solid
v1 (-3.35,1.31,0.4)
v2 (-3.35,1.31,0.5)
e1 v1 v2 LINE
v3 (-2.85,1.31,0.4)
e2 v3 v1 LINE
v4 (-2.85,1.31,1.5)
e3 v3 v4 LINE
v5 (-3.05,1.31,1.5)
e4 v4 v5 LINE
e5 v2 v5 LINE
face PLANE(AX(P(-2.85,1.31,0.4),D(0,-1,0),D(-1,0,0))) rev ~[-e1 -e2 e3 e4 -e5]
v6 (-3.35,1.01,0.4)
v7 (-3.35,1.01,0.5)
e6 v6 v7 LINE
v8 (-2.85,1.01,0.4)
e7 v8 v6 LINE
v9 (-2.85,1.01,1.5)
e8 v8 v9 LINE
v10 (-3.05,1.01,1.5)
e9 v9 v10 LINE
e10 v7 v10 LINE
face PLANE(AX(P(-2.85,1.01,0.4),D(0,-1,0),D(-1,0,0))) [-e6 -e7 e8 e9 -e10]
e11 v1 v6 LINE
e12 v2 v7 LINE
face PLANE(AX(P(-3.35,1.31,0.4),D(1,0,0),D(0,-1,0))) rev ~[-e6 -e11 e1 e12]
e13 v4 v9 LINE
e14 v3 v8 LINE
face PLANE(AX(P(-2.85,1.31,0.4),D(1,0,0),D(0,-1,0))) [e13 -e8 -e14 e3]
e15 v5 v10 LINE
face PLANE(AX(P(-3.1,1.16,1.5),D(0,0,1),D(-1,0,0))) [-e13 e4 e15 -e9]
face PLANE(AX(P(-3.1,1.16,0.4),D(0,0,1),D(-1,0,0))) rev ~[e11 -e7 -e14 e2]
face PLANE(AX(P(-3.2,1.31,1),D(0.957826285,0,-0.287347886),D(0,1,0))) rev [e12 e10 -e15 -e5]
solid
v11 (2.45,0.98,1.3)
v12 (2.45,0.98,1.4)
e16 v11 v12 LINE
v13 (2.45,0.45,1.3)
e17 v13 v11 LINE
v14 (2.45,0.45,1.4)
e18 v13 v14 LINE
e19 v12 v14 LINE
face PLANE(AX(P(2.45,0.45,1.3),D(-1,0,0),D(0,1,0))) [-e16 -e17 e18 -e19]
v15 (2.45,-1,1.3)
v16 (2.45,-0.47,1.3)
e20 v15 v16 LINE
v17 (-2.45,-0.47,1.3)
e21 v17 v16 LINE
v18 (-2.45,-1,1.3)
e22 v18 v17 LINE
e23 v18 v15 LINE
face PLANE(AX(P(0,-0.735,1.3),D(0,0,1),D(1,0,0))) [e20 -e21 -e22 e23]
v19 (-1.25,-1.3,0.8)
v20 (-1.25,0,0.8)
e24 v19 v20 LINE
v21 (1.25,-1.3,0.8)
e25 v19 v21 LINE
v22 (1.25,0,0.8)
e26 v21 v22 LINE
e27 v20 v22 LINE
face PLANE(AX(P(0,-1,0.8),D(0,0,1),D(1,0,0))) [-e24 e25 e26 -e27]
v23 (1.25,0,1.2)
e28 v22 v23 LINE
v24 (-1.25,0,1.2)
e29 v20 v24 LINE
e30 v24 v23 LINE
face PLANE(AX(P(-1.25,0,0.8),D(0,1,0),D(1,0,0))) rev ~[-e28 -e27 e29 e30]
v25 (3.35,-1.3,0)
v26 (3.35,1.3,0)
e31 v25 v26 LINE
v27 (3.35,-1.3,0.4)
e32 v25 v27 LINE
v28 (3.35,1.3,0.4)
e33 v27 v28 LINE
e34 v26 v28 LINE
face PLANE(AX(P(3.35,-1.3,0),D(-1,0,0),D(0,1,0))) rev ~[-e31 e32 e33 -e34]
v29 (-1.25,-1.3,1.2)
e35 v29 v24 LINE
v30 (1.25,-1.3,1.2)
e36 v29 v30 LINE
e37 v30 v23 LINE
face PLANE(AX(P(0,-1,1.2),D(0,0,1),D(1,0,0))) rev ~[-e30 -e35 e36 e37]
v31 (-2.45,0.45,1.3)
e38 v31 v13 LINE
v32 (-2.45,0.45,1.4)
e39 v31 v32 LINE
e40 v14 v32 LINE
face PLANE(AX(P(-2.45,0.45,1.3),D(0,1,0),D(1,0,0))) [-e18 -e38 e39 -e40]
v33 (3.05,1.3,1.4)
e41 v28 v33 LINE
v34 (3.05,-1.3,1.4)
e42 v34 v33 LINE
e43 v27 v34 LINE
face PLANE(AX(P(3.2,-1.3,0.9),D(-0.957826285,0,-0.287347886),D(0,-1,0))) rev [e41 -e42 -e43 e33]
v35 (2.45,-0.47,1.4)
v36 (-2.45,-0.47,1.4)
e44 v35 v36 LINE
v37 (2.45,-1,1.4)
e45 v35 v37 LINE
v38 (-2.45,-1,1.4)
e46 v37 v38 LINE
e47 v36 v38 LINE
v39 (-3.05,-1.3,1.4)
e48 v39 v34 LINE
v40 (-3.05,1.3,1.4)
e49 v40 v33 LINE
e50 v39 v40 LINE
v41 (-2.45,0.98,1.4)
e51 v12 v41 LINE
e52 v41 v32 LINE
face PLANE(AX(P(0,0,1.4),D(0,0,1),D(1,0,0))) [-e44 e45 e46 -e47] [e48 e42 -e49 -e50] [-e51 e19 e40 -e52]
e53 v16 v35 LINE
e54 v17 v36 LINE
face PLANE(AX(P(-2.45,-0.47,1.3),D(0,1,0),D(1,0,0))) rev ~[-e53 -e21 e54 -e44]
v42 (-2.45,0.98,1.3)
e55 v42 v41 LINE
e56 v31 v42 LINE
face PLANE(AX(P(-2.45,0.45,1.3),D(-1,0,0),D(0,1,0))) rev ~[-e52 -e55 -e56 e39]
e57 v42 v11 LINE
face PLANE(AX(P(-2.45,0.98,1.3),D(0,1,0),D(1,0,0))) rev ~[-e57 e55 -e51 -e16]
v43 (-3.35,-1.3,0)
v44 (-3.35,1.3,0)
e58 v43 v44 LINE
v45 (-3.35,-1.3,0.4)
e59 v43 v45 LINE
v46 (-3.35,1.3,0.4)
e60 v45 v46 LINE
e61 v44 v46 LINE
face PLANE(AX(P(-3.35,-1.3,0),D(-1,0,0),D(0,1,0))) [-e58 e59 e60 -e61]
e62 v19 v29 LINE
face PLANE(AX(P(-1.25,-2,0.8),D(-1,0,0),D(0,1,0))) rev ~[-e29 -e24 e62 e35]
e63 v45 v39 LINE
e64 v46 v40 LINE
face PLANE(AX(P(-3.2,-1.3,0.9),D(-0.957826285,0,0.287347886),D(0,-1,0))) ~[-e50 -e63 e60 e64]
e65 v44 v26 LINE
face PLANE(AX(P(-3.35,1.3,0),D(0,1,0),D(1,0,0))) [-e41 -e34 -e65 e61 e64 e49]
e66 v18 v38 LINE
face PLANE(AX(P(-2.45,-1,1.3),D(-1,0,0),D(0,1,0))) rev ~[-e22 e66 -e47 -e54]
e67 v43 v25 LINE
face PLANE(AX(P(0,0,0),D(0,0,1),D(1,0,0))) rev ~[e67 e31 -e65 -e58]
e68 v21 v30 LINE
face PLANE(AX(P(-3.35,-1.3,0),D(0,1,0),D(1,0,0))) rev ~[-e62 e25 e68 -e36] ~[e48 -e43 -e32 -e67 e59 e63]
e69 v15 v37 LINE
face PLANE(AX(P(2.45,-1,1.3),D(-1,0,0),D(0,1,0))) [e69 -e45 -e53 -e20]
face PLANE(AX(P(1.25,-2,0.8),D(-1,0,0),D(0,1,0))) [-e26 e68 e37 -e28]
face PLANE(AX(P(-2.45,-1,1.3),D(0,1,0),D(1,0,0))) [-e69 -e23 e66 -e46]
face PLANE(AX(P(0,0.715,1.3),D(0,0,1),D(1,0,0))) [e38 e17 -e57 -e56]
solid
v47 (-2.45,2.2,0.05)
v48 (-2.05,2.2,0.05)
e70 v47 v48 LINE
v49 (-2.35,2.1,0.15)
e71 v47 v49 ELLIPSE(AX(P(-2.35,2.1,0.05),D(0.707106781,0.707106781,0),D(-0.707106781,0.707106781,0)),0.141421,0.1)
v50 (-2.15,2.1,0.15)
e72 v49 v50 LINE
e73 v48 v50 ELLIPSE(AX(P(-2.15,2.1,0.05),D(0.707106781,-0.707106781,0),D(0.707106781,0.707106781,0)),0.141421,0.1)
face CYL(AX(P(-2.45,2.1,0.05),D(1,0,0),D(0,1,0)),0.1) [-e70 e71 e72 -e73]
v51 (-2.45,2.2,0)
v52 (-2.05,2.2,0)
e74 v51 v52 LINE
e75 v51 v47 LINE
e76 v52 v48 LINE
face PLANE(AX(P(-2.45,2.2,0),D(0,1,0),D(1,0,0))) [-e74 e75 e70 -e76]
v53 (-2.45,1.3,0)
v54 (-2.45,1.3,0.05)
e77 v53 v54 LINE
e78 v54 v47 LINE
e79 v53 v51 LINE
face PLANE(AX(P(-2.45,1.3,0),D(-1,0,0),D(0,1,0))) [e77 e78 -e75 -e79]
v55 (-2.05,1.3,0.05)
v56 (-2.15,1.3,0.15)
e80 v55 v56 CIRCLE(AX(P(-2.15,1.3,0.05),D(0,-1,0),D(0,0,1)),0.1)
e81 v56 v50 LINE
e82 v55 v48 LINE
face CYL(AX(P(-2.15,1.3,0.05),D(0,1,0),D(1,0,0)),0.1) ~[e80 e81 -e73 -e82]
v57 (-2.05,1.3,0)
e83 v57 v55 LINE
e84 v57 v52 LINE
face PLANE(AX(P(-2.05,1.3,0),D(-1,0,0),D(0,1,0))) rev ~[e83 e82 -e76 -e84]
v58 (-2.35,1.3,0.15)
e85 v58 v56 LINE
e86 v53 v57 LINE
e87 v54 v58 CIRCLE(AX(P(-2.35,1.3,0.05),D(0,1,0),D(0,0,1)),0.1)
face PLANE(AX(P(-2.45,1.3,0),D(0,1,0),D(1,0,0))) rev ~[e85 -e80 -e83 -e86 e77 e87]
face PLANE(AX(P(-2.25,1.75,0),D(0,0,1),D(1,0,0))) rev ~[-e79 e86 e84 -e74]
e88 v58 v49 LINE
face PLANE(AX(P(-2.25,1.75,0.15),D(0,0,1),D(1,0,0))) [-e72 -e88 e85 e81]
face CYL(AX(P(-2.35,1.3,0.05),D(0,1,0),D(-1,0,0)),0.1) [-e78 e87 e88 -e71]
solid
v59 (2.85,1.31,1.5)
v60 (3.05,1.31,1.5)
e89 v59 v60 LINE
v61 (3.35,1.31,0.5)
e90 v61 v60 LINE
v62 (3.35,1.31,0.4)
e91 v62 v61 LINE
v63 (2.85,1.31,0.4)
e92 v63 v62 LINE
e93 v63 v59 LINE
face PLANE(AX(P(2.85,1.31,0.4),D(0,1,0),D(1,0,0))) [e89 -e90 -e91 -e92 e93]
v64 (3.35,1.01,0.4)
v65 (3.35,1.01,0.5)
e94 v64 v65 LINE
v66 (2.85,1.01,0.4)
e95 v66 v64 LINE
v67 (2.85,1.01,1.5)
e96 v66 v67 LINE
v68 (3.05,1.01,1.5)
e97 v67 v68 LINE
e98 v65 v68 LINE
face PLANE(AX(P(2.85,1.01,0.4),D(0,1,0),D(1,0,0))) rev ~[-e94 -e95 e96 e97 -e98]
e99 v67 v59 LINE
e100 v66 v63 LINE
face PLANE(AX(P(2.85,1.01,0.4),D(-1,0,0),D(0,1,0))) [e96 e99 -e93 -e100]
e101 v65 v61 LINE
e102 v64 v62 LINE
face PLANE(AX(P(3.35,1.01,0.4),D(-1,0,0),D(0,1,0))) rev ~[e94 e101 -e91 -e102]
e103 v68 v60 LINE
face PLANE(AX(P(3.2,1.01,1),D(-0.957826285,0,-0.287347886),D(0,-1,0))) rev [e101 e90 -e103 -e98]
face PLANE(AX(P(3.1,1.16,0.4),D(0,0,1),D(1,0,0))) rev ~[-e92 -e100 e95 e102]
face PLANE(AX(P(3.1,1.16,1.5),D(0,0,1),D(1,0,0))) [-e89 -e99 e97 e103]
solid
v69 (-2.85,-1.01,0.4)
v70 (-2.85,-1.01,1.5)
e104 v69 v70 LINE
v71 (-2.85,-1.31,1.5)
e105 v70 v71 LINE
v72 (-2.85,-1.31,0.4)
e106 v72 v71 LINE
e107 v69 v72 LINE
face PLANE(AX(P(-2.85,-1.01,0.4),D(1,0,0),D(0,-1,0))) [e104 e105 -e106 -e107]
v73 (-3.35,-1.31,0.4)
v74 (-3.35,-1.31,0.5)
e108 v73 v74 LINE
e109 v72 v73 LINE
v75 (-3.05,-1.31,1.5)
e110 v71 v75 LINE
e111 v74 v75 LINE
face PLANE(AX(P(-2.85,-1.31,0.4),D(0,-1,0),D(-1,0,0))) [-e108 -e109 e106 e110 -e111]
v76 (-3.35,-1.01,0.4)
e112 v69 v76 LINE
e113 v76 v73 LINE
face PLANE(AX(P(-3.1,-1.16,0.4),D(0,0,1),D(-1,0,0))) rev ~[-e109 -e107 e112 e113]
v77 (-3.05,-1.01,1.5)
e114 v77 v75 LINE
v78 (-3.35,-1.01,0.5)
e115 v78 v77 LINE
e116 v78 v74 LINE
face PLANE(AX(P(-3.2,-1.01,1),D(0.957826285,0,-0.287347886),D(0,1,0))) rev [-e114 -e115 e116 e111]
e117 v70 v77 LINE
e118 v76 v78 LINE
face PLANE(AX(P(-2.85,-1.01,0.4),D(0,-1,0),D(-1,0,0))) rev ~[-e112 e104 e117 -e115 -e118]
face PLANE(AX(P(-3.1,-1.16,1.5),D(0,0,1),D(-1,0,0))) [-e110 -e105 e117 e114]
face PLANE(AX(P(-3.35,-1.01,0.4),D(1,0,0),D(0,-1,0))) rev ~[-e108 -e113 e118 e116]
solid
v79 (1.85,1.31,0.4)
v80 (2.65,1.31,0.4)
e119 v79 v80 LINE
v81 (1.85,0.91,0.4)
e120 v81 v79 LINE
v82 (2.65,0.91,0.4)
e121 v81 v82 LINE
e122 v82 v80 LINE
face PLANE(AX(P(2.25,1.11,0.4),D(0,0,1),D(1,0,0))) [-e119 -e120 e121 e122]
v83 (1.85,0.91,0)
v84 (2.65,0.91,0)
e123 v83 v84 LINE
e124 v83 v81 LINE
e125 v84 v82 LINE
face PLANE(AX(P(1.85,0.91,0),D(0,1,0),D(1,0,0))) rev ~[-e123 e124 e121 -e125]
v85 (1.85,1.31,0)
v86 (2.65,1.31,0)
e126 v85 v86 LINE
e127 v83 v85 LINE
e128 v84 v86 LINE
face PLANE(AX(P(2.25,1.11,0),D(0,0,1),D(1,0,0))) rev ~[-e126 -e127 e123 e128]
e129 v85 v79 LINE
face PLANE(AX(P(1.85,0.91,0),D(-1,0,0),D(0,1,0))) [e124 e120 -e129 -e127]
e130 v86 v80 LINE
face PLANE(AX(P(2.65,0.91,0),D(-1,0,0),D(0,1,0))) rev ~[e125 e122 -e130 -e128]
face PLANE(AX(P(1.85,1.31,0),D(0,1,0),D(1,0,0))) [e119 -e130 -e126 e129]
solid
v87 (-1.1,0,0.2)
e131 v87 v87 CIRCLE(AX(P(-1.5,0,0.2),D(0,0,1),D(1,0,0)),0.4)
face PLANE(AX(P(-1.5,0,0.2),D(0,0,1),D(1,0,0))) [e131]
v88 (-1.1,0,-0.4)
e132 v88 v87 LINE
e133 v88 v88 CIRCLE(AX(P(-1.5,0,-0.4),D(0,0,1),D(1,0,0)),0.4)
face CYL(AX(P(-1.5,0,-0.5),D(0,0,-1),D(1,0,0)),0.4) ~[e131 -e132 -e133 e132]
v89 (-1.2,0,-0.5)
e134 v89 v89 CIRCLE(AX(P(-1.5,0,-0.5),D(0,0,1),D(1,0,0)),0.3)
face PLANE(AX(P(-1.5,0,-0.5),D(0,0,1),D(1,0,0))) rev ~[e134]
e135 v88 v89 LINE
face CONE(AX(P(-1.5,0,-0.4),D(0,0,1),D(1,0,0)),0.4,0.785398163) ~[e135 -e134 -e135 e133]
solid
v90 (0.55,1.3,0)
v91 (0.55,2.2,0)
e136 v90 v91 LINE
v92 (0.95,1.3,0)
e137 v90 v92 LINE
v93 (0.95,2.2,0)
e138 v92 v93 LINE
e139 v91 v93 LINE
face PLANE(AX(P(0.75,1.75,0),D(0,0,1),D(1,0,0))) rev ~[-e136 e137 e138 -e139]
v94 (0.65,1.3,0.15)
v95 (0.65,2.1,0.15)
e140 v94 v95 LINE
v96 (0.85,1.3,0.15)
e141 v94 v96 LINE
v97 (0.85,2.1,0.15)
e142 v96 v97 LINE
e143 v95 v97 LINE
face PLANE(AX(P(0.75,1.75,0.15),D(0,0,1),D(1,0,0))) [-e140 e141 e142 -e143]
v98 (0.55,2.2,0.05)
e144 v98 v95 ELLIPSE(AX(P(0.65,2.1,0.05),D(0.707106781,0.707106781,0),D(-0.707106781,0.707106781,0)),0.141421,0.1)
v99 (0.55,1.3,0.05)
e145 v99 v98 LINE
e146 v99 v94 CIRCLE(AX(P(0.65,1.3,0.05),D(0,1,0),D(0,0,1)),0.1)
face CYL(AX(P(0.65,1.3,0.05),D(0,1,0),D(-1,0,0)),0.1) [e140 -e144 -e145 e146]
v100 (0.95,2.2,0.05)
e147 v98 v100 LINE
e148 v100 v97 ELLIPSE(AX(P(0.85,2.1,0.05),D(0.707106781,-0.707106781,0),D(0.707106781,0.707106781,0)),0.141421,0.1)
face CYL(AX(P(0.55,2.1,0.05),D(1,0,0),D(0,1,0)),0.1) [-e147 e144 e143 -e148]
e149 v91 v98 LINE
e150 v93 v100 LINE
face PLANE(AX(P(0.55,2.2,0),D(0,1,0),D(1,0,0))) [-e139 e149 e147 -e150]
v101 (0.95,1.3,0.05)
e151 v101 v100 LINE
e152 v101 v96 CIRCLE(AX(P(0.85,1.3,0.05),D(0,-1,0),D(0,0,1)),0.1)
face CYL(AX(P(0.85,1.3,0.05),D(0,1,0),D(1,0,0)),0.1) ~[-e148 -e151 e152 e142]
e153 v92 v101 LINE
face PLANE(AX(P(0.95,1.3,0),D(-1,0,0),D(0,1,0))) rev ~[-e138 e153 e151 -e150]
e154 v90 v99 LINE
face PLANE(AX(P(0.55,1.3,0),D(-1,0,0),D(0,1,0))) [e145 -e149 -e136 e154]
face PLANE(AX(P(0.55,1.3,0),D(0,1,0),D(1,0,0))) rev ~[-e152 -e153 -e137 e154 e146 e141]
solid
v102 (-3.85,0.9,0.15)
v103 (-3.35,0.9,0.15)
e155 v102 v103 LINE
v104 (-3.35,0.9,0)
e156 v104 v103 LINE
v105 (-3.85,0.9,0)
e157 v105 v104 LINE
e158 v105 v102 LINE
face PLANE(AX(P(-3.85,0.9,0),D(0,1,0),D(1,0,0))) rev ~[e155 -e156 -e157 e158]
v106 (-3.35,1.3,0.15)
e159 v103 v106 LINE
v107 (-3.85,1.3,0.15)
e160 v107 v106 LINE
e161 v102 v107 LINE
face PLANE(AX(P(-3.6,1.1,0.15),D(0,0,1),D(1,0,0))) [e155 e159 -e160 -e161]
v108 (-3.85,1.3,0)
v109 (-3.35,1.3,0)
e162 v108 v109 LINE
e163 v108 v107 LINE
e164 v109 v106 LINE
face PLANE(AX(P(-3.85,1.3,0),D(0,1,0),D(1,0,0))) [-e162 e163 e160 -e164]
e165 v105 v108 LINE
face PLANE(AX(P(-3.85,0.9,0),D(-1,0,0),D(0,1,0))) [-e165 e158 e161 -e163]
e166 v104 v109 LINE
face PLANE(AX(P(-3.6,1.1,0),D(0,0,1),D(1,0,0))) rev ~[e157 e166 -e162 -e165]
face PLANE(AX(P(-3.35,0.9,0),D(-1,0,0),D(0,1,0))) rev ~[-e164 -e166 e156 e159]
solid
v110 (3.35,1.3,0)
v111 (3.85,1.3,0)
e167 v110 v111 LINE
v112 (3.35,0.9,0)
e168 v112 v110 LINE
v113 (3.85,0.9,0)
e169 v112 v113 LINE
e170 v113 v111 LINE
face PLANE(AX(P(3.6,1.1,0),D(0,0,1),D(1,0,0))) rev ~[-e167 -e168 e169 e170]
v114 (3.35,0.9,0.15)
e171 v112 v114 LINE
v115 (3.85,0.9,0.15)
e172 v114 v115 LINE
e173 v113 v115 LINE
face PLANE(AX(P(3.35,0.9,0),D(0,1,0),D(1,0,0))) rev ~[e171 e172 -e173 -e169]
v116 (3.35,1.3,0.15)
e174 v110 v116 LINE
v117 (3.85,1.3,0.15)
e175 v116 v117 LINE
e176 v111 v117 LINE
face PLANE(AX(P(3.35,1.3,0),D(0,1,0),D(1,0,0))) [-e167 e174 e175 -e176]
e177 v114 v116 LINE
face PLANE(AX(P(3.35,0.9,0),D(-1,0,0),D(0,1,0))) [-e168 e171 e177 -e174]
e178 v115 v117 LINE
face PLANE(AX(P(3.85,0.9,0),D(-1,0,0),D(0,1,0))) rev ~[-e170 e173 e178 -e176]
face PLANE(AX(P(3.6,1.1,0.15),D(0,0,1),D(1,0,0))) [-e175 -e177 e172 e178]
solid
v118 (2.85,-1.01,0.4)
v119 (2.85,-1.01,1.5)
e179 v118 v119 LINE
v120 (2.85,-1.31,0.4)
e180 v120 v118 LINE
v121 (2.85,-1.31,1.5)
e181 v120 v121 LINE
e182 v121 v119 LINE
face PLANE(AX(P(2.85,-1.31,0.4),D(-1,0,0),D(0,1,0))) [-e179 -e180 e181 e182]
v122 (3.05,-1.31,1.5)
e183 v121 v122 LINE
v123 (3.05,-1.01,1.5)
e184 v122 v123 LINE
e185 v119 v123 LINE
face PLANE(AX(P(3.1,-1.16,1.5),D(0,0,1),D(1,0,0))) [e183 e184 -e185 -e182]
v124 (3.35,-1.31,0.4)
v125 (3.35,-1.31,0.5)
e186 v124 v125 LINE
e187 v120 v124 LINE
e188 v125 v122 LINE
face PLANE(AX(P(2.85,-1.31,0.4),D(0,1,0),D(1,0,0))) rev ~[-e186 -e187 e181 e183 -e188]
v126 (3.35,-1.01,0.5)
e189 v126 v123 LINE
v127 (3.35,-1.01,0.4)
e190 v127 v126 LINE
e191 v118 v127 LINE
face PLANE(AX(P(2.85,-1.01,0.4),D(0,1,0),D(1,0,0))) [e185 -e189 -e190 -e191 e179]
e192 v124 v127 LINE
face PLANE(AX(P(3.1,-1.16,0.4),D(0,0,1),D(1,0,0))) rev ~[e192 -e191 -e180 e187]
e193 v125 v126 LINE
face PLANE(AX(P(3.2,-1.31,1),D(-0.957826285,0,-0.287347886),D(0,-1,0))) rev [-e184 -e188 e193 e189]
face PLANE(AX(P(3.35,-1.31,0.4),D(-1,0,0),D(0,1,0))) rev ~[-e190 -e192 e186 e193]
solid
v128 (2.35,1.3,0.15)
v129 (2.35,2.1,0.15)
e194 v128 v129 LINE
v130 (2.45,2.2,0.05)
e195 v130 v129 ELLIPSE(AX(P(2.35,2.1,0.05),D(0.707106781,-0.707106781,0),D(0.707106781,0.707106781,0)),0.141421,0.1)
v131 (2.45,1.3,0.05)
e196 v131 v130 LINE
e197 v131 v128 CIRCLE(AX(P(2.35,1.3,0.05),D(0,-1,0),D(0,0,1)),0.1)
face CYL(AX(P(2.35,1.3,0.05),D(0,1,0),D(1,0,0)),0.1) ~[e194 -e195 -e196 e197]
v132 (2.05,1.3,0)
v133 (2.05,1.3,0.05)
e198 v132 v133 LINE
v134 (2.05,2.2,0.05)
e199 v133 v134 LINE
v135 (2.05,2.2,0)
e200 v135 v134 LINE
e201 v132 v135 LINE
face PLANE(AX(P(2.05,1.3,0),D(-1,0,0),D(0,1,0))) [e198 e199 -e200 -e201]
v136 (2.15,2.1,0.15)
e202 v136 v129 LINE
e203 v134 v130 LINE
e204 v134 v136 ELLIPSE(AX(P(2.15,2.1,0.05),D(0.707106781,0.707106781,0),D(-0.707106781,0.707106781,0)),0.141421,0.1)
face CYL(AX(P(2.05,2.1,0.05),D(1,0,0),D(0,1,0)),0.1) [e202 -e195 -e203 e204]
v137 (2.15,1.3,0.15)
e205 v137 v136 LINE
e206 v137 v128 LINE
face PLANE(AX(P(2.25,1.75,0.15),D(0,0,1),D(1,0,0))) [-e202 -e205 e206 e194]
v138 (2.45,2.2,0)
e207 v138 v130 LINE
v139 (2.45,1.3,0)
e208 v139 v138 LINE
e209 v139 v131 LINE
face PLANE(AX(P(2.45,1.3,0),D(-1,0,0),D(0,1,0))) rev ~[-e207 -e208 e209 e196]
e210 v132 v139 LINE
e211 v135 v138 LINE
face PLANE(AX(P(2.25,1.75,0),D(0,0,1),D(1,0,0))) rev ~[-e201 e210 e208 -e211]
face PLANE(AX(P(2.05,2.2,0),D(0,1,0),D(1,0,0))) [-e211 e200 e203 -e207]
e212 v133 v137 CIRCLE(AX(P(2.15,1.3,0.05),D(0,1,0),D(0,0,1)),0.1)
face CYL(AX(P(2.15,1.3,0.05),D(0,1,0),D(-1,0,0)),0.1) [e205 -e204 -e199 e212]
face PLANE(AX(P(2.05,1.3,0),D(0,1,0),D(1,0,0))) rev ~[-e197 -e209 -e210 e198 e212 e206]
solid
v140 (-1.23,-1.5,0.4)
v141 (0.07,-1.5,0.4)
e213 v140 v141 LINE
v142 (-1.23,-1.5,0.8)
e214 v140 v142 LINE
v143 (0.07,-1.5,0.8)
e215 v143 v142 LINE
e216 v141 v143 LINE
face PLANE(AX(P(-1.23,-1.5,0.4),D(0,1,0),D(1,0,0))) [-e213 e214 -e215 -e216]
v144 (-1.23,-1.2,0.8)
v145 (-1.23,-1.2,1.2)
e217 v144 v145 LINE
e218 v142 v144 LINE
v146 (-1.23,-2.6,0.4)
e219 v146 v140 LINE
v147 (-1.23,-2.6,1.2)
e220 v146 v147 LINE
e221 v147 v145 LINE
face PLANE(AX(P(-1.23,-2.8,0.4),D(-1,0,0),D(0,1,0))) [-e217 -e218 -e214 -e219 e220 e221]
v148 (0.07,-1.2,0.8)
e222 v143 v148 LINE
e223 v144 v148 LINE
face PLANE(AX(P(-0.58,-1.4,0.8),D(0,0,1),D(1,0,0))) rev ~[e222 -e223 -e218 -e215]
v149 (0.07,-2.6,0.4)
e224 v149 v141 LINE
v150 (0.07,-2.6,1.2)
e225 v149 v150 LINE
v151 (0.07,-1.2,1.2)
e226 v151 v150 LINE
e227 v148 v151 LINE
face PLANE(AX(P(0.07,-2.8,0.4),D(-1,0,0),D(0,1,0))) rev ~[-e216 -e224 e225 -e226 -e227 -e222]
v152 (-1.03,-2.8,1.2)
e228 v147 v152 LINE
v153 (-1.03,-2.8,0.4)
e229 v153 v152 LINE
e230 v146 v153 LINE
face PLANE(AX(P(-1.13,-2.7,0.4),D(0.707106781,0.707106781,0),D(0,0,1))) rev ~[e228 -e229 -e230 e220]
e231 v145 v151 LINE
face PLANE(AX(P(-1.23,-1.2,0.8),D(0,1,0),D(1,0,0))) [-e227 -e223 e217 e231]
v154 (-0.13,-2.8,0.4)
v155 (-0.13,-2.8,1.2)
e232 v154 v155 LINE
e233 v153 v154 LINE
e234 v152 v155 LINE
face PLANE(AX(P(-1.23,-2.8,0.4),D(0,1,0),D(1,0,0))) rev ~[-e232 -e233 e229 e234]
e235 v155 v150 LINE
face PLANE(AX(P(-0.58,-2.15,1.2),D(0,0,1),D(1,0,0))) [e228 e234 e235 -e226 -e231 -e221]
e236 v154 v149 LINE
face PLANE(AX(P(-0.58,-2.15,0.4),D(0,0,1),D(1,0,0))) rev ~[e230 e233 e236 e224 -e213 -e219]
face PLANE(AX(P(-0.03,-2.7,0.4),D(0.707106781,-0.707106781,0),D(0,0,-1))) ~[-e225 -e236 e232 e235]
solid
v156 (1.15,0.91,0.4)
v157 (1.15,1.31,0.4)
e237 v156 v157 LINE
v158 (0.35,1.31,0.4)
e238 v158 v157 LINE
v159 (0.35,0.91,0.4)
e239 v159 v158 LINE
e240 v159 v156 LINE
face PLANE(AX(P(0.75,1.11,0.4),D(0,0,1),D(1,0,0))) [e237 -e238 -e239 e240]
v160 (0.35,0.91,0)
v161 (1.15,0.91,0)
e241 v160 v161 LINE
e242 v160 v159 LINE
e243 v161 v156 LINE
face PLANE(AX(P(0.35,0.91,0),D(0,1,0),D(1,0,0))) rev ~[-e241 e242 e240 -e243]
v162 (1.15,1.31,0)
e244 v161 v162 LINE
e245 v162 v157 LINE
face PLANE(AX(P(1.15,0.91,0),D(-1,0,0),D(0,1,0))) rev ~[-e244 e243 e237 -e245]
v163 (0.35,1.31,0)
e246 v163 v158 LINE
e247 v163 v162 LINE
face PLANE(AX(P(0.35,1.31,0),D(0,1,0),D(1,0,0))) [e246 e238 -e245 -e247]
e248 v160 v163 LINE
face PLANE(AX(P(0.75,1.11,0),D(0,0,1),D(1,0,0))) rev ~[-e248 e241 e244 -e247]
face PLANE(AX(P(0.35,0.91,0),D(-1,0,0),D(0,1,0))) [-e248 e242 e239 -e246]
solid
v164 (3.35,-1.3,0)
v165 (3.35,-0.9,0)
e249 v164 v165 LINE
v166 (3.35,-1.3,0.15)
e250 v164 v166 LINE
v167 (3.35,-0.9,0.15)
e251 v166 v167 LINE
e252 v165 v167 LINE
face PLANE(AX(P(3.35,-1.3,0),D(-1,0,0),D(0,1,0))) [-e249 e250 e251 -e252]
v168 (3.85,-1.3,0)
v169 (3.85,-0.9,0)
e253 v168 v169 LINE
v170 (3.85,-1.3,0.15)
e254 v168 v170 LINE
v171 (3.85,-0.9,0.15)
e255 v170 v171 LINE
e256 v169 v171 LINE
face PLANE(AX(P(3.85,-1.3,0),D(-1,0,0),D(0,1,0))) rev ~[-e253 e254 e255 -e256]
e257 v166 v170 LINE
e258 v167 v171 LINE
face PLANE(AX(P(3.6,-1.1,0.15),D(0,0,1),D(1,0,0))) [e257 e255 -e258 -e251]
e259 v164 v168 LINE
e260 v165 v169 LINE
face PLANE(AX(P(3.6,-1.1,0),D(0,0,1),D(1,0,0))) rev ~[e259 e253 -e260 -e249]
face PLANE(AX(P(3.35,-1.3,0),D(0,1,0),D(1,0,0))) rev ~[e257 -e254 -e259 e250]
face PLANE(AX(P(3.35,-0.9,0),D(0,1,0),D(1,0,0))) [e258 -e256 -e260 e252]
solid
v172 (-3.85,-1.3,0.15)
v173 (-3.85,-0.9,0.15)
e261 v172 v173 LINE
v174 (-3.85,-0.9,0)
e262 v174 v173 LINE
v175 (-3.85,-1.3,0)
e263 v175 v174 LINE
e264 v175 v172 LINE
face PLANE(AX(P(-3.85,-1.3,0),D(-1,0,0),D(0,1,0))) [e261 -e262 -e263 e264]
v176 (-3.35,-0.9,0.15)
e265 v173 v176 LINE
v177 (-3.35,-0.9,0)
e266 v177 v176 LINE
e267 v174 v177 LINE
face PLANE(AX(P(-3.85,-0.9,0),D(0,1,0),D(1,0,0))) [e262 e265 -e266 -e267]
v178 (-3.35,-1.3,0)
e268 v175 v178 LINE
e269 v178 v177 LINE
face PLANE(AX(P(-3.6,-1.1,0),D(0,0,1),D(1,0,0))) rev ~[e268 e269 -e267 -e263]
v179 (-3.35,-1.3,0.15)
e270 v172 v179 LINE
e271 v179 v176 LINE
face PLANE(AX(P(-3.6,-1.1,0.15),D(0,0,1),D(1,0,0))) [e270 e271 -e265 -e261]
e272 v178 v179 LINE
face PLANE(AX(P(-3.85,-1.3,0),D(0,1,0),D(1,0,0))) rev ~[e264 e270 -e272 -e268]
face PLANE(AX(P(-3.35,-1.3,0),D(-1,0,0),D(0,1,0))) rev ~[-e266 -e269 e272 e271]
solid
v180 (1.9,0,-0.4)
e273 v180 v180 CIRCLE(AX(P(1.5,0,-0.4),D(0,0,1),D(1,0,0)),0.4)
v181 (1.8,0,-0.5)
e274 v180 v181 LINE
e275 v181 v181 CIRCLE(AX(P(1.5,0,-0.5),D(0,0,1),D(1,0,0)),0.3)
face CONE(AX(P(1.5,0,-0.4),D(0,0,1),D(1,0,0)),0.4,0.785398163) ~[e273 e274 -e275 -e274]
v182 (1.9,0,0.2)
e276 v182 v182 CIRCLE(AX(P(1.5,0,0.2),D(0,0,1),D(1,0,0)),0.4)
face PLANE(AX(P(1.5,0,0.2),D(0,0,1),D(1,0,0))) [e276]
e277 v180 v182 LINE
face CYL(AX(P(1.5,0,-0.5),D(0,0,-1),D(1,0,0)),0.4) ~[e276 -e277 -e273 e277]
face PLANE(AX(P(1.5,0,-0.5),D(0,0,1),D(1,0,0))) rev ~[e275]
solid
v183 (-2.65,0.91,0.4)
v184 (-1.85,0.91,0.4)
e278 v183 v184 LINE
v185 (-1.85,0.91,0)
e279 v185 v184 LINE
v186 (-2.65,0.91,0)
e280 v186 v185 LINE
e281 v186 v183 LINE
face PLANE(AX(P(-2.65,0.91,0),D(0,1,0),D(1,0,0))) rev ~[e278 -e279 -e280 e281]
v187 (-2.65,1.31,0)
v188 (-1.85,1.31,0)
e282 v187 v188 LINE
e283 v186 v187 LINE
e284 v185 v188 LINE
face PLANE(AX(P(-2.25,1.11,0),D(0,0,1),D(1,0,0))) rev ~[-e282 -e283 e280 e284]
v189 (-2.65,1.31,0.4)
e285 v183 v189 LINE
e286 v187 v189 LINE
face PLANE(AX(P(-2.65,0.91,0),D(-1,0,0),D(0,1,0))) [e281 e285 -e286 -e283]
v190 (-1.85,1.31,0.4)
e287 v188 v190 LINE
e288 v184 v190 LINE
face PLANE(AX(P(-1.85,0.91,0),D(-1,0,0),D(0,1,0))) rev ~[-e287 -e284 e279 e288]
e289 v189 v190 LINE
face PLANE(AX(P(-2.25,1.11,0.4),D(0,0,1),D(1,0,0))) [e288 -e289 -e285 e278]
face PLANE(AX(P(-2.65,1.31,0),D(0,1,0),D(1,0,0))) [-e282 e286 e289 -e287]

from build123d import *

# Parameters (mm, degrees)
BOX002_W                   = 1.3
BOX002_H                   = 1.3
BOX002_DEPTH               = 0.8
CHAMFER_SIZE               = 0.2
CHAMFER001_SIZE            = 0.2
BOX001_W                   = 1.3
BOX001_H                   = 0.4
BOX001_DEPTH               = 0.4
CYLINDER_R                 = 0.4
CYLINDER_DEPTH             = 0.7
CHAMFER003_SIZE            = 0.1
CYLINDER001_R              = 0.4
CYLINDER001_DEPTH          = 0.7
CHAMFER004_SIZE            = 0.1
BOX005_W                   = 0.5
BOX005_H                   = 0.3
BOX005_DEPTH               = 1.1
CHAMFER005_SIZE2           = 0.3
CHAMFER005_SIZE            = 1
BOX006_W                   = 0.5
BOX006_H                   = 0.3
BOX006_DEPTH               = 1.1
CHAMFER006_SIZE2           = 0.3
CHAMFER006_SIZE            = 1
BOX007_W                   = 0.5
BOX007_H                   = 0.3
BOX007_DEPTH               = 1.1
CHAMFER007_SIZE2           = 0.3
CHAMFER007_SIZE            = 1
CHAMFER007_PLACEMENT_ANGLE = 180
BOX008_W                   = 0.5
BOX008_H                   = 0.3
BOX008_DEPTH               = 1.1
CHAMFER008_SIZE2           = 0.3
CHAMFER008_SIZE            = 1
CHAMFER008_PLACEMENT_ANGLE = 180
BOX009_W                   = 0.5
BOX009_H                   = 0.4
BOX009_DEPTH               = 0.15
BOX010_W                   = 0.5
BOX010_H                   = 0.4
BOX010_DEPTH               = 0.15
BOX011_W                   = 0.5
BOX011_H                   = 0.4
BOX011_DEPTH               = 0.15
BOX012_W                   = 0.5
BOX012_H                   = 0.4
BOX012_DEPTH               = 0.15
BOX016_W                   = 0.8
BOX016_H                   = 0.4
BOX016_DEPTH               = 0.4
BOX017_W                   = 0.8
BOX017_H                   = 0.4
BOX017_DEPTH               = 0.4
BOX018_W                   = 0.8
BOX018_H                   = 0.4
BOX018_DEPTH               = 0.4
BOX015_W                   = 0.4
BOX015_H                   = 0.9
BOX015_DEPTH               = 0.15
FILLET004_R                = 0.1
BOX013_W                   = 0.4
BOX013_H                   = 0.9
BOX013_DEPTH               = 0.15
FILLET005_R                = 0.1
BOX014_W                   = 0.4
BOX014_H                   = 0.9
BOX014_DEPTH               = 0.15
FILLET006_R                = 0.1
BOX019_W                   = 4.9
BOX019_H                   = 0.53
BOX019_DEPTH               = 0.2
BOX020_W                   = 4.9
BOX020_H                   = 0.53
BOX020_DEPTH               = 0.2
BOX_W                      = 2.5
BOX_H                      = 2
BOX_DEPTH                  = 0.4
SKETCH_W                   = 6.7
SKETCH_H                   = 2.6
PAD_DEPTH                  = 1.4
CHAMFER002_1_SIZE2         = 0.3
CHAMFER002_1_SIZE          = 1
CHAMFER002_2_SIZE2         = 0.3
CHAMFER002_2_SIZE          = 1


with BuildPart() as chamfer001:
    # Box002 → Box002 (new body)
    with BuildSketch(Plane(origin=(-0.08, -2.8, 0.4), x_dir=(1, 0, 0), z_dir=(0, 0, 1))):
        with Locations((0.65, 0.65)):
            Rectangle(BOX002_W, BOX002_H)
    extrude(amount=BOX002_DEPTH)

    # Chamfer
    chamfer_edges = [chamfer001.edges().sort_by_distance(p)[0] for p in [
        (-0.08, -2.8, 0.8),
    ]]
    chamfer(chamfer_edges, length=CHAMFER_SIZE)

    # Chamfer001
    chamfer001_edges = [chamfer001.edges().sort_by_distance(p)[0] for p in [
        (1.22, -2.8, 0.8),
    ]]
    chamfer(chamfer001_edges, length=CHAMFER001_SIZE)


with BuildPart() as fusion:
    # Box001 → Box001 (new body)
    with BuildSketch(Plane(origin=(-0.08, -1.6, 0.8), x_dir=(1, 0, 0), z_dir=(0, 0, 1))):
        with Locations((0.65, 0.2)):
            Rectangle(BOX001_W, BOX001_H)
    extrude(amount=BOX001_DEPTH)

    # Fusion: union Chamfer001
    add(chamfer001.part)


with BuildPart() as fusion_1:
    # Fusion placement: moved
    add(fusion.part.moved(Location((-1.15, 0, 0))))


with BuildPart() as pigunder001:
    # Cylinder → Cylinder (new body)
    with BuildSketch(Plane(origin=(1.5, 0, -0.5), x_dir=(1, 0, 0), z_dir=(0, 0, 1))):
        Circle(CYLINDER_R)
    extrude(amount=CYLINDER_DEPTH)

    # Chamfer003
    chamfer003_edges = [pigunder001.edges().sort_by_distance(p)[0] for p in [
        (1.1, 0, -0.5),
    ]]
    chamfer(chamfer003_edges, length=CHAMFER003_SIZE)


with BuildPart() as pigunder002:
    # Cylinder001 → Cylinder001 (new body)
    with BuildSketch(Plane(origin=(-1.5, 0, -0.5), x_dir=(1, 0, 0), z_dir=(0, 0, 1))):
        Circle(CYLINDER001_R)
    extrude(amount=CYLINDER001_DEPTH)

    # Chamfer004
    chamfer004_edges = [pigunder002.edges().sort_by_distance(p)[0] for p in [
        (-1.9, 0, -0.5),
    ]]
    chamfer(chamfer004_edges, length=CHAMFER004_SIZE)


with BuildPart() as corner001:
    # Box005 → Box005 (new body)
    with BuildSketch(Plane(origin=(2.85, -1.3, 0.4), x_dir=(1, 0, 0), z_dir=(0, 0, 1))):
        with Locations((0.25, 0.15)):
            Rectangle(BOX005_W, BOX005_H)
    extrude(amount=BOX005_DEPTH)

    # Chamfer005
    chamfer005_edges = [corner001.edges().sort_by_distance(p)[0] for p in [
        (3.35, -1.15, 1.5),
    ]]
    chamfer005_side = corner001.faces().sort_by_distance((3.35, -1.15, 0.95))[0]
    chamfer(chamfer005_edges, length=CHAMFER005_SIZE, length2=CHAMFER005_SIZE2, reference=chamfer005_side)


with BuildPart() as corner001_1:
    # Chamfer005 placement: moved
    add(corner001.part.moved(Location((0, -0.01, 0))))


with BuildPart() as corner002:
    # Box006 → Box006 (new body)
    with BuildSketch(Plane(origin=(2.85, -1.3, 0.4), x_dir=(1, 0, 0), z_dir=(0, 0, 1))):
        with Locations((0.25, 0.15)):
            Rectangle(BOX006_W, BOX006_H)
    extrude(amount=BOX006_DEPTH)

    # Chamfer006
    chamfer006_edges = [corner002.edges().sort_by_distance(p)[0] for p in [
        (3.35, -1.15, 1.5),
    ]]
    chamfer006_side = corner002.faces().sort_by_distance((3.35, -1.15, 0.95))[0]
    chamfer(chamfer006_edges, length=CHAMFER006_SIZE, length2=CHAMFER006_SIZE2, reference=chamfer006_side)


with BuildPart() as corner002_1:
    # Chamfer006 placement: moved
    add(corner002.part.moved(Location((0, 2.31, 0))))


with BuildPart() as corner003:
    # Box007 → Box007 (new body)
    with BuildSketch(Plane(origin=(2.85, -1.3, 0.4), x_dir=(1, 0, 0), z_dir=(0, 0, 1))):
        with Locations((0.25, 0.15)):
            Rectangle(BOX007_W, BOX007_H)
    extrude(amount=BOX007_DEPTH)

    # Chamfer007
    chamfer007_edges = [corner003.edges().sort_by_distance(p)[0] for p in [
        (3.35, -1.15, 1.5),
    ]]
    chamfer007_side = corner003.faces().sort_by_distance((3.35, -1.15, 0.95))[0]
    chamfer(chamfer007_edges, length=CHAMFER007_SIZE, length2=CHAMFER007_SIZE2, reference=chamfer007_side)


with BuildPart() as corner003_1:
    # Chamfer007 placement: moved
    add(corner003.part.moved(Location((0, 0.01, 0))).rotate(Axis((0, 0.01, 0), (0, 0, 1)), CHAMFER007_PLACEMENT_ANGLE))


with BuildPart() as corner004:
    # Box008 → Box008 (new body)
    with BuildSketch(Plane(origin=(2.85, -1.3, 0.4), x_dir=(1, 0, 0), z_dir=(0, 0, 1))):
        with Locations((0.25, 0.15)):
            Rectangle(BOX008_W, BOX008_H)
    extrude(amount=BOX008_DEPTH)

    # Chamfer008
    chamfer008_edges = [corner004.edges().sort_by_distance(p)[0] for p in [
        (3.35, -1.15, 1.5),
    ]]
    chamfer008_side = corner004.faces().sort_by_distance((3.35, -1.15, 0.95))[0]
    chamfer(chamfer008_edges, length=CHAMFER008_SIZE, length2=CHAMFER008_SIZE2, reference=chamfer008_side)


with BuildPart() as corner004_1:
    # Chamfer008 placement: moved
    add(corner004.part.moved(Location((0, -2.31, 0))).rotate(Axis((0, -2.31, 0), (0, 0, 1)), CHAMFER008_PLACEMENT_ANGLE))


with BuildPart() as leg001:
    # Box009 → Box009 (new body)
    with BuildSketch(Plane(origin=(3.35, -1.3, 0), x_dir=(1, 0, 0), z_dir=(0, 0, 1))):
        with Locations((0.25, 0.2)):
            Rectangle(BOX009_W, BOX009_H)
    extrude(amount=BOX009_DEPTH)


with BuildPart() as leg002:
    # Box010 → Box010 (new body)
    with BuildSketch(Plane(origin=(3.35, 0.9, 0), x_dir=(1, 0, 0), z_dir=(0, 0, 1))):
        with Locations((0.25, 0.2)):
            Rectangle(BOX010_W, BOX010_H)
    extrude(amount=BOX010_DEPTH)


with BuildPart() as leg003:
    # Box011 → Box011 (new body)
    with BuildSketch(Plane(origin=(-3.85, -1.3, 0), x_dir=(1, 0, 0), z_dir=(0, 0, 1))):
        with Locations((0.25, 0.2)):
            Rectangle(BOX011_W, BOX011_H)
    extrude(amount=BOX011_DEPTH)


with BuildPart() as leg004:
    # Box012 → Box012 (new body)
    with BuildSketch(Plane(origin=(-3.85, 0.9, 0), x_dir=(1, 0, 0), z_dir=(0, 0, 1))):
        with Locations((0.25, 0.2)):
            Rectangle(BOX012_W, BOX012_H)
    extrude(amount=BOX012_DEPTH)


with BuildPart() as kub009:
    # Box016 → Box016 (new body)
    with BuildSketch(Plane(origin=(1.85, 0.91, 0), x_dir=(1, 0, 0), z_dir=(0, 0, 1))):
        with Locations((0.4, 0.2)):
            Rectangle(BOX016_W, BOX016_H)
    extrude(amount=BOX016_DEPTH)


with BuildPart() as kub010:
    # Box017 → Box017 (new body)
    with BuildSketch(Plane(origin=(0.35, 0.91, 0), x_dir=(1, 0, 0), z_dir=(0, 0, 1))):
        with Locations((0.4, 0.2)):
            Rectangle(BOX017_W, BOX017_H)
    extrude(amount=BOX017_DEPTH)


with BuildPart() as kub011:
    # Box018 → Box018 (new body)
    with BuildSketch(Plane(origin=(-2.65, 0.91, 0), x_dir=(1, 0, 0), z_dir=(0, 0, 1))):
        with Locations((0.4, 0.2)):
            Rectangle(BOX018_W, BOX018_H)
    extrude(amount=BOX018_DEPTH)


with BuildPart() as fillet004:
    # Box015 → Box015 (new body)
    with BuildSketch(Plane(origin=(2.05, 1.3, 0), x_dir=(1, 0, 0), z_dir=(0, 0, 1))):
        with Locations((0.2, 0.45)):
            Rectangle(BOX015_W, BOX015_H)
    extrude(amount=BOX015_DEPTH)

    # Fillet004
    fillet004_edges = [fillet004.edges().sort_by_distance(p)[0] for p in [
        (2.05, 1.75, 0.15),
        (2.45, 1.75, 0.15),
        (2.25, 2.2, 0.15),
    ]]
    fillet(fillet004_edges, radius=FILLET004_R)


with BuildPart() as fillet005:
    # Box013 → Box013 (new body)
    with BuildSketch(Plane(origin=(-2.45, 1.3, 0), x_dir=(1, 0, 0), z_dir=(0, 0, 1))):
        with Locations((0.2, 0.45)):
            Rectangle(BOX013_W, BOX013_H)
    extrude(amount=BOX013_DEPTH)

    # Fillet005
    fillet005_edges = [fillet005.edges().sort_by_distance(p)[0] for p in [
        (-2.45, 1.75, 0.15),
        (-2.05, 1.75, 0.15),
        (-2.25, 2.2, 0.15),
    ]]
    fillet(fillet005_edges, radius=FILLET005_R)


with BuildPart() as fillet006:
    # Box014 → Box014 (new body)
    with BuildSketch(Plane(origin=(0.55, 1.3, 0), x_dir=(1, 0, 0), z_dir=(0, 0, 1))):
        with Locations((0.2, 0.45)):
            Rectangle(BOX014_W, BOX014_H)
    extrude(amount=BOX014_DEPTH)

    # Fillet006
    fillet006_edges = [fillet006.edges().sort_by_distance(p)[0] for p in [
        (0.55, 1.75, 0.15),
        (0.95, 1.75, 0.15),
        (0.75, 2.2, 0.15),
    ]]
    fillet(fillet006_edges, radius=FILLET006_R)


with BuildPart() as kub012:
    # Box019 → Box019 (new body)
    with BuildSketch(Plane(origin=(-2.45, 0.45, 1.3), x_dir=(1, 0, 0), z_dir=(0, 0, 1))):
        with Locations((2.45, 0.265)):
            Rectangle(BOX019_W, BOX019_H)
    extrude(amount=BOX019_DEPTH)


with BuildPart() as kub013:
    # Box020 → Box020 (new body)
    with BuildSketch(Plane(origin=(-2.45, -1, 1.3), x_dir=(1, 0, 0), z_dir=(0, 0, 1))):
        with Locations((2.45, 0.265)):
            Rectangle(BOX020_W, BOX020_H)
    extrude(amount=BOX020_DEPTH)


with BuildPart() as kub:
    # Box → Box (new body)
    with BuildSketch(Plane(origin=(-1.25, -2, 0.8), x_dir=(1, 0, 0), z_dir=(0, 0, 1))):
        with Locations((1.25, 1)):
            Rectangle(BOX_W, BOX_H)
    extrude(amount=BOX_DEPTH)


with BuildPart() as cut002:
    # Sketch → Pad (new body)
    with BuildSketch(Plane.XY):
        Rectangle(SKETCH_W, SKETCH_H)
    extrude(amount=PAD_DEPTH)

    # Cut: cut Kub
    add(kub.part, mode=Mode.SUBTRACT)

    # Chamfer002 1
    chamfer002_1_edges = [cut002.edges().sort_by_distance(p)[0] for p in [
        (3.35, 0, 1.4),
    ]]
    chamfer002_1_side = cut002.faces().sort_by_distance((3.35, 0, 0.7))[0]
    chamfer(chamfer002_1_edges, length=CHAMFER002_1_SIZE, length2=CHAMFER002_1_SIZE2, reference=chamfer002_1_side)

    # Chamfer002 2
    chamfer002_2_edges = [cut002.edges().sort_by_distance(p)[0] for p in [
        (-3.35, 0, 1.4),
    ]]
    chamfer002_2_side = cut002.faces().sort_by_distance((-3.35, 0, 0.7))[0]
    chamfer(chamfer002_2_edges, length=CHAMFER002_2_SIZE, length2=CHAMFER002_2_SIZE2, reference=chamfer002_2_side)

    # Cut001: cut Kub013
    add(kub013.part, mode=Mode.SUBTRACT)

    # Cut002: cut Kub012
    add(kub012.part, mode=Mode.SUBTRACT)


solid = Compound([fusion_1.part, pigunder001.part, pigunder002.part, corner001_1.part, corner002_1.part, corner003_1.part, corner004_1.part, leg001.part, leg002.part, leg003.part, leg004.part, kub009.part, kub010.part, kub011.part, fillet004.part, fillet005.part, fillet006.part, cut002.part])
